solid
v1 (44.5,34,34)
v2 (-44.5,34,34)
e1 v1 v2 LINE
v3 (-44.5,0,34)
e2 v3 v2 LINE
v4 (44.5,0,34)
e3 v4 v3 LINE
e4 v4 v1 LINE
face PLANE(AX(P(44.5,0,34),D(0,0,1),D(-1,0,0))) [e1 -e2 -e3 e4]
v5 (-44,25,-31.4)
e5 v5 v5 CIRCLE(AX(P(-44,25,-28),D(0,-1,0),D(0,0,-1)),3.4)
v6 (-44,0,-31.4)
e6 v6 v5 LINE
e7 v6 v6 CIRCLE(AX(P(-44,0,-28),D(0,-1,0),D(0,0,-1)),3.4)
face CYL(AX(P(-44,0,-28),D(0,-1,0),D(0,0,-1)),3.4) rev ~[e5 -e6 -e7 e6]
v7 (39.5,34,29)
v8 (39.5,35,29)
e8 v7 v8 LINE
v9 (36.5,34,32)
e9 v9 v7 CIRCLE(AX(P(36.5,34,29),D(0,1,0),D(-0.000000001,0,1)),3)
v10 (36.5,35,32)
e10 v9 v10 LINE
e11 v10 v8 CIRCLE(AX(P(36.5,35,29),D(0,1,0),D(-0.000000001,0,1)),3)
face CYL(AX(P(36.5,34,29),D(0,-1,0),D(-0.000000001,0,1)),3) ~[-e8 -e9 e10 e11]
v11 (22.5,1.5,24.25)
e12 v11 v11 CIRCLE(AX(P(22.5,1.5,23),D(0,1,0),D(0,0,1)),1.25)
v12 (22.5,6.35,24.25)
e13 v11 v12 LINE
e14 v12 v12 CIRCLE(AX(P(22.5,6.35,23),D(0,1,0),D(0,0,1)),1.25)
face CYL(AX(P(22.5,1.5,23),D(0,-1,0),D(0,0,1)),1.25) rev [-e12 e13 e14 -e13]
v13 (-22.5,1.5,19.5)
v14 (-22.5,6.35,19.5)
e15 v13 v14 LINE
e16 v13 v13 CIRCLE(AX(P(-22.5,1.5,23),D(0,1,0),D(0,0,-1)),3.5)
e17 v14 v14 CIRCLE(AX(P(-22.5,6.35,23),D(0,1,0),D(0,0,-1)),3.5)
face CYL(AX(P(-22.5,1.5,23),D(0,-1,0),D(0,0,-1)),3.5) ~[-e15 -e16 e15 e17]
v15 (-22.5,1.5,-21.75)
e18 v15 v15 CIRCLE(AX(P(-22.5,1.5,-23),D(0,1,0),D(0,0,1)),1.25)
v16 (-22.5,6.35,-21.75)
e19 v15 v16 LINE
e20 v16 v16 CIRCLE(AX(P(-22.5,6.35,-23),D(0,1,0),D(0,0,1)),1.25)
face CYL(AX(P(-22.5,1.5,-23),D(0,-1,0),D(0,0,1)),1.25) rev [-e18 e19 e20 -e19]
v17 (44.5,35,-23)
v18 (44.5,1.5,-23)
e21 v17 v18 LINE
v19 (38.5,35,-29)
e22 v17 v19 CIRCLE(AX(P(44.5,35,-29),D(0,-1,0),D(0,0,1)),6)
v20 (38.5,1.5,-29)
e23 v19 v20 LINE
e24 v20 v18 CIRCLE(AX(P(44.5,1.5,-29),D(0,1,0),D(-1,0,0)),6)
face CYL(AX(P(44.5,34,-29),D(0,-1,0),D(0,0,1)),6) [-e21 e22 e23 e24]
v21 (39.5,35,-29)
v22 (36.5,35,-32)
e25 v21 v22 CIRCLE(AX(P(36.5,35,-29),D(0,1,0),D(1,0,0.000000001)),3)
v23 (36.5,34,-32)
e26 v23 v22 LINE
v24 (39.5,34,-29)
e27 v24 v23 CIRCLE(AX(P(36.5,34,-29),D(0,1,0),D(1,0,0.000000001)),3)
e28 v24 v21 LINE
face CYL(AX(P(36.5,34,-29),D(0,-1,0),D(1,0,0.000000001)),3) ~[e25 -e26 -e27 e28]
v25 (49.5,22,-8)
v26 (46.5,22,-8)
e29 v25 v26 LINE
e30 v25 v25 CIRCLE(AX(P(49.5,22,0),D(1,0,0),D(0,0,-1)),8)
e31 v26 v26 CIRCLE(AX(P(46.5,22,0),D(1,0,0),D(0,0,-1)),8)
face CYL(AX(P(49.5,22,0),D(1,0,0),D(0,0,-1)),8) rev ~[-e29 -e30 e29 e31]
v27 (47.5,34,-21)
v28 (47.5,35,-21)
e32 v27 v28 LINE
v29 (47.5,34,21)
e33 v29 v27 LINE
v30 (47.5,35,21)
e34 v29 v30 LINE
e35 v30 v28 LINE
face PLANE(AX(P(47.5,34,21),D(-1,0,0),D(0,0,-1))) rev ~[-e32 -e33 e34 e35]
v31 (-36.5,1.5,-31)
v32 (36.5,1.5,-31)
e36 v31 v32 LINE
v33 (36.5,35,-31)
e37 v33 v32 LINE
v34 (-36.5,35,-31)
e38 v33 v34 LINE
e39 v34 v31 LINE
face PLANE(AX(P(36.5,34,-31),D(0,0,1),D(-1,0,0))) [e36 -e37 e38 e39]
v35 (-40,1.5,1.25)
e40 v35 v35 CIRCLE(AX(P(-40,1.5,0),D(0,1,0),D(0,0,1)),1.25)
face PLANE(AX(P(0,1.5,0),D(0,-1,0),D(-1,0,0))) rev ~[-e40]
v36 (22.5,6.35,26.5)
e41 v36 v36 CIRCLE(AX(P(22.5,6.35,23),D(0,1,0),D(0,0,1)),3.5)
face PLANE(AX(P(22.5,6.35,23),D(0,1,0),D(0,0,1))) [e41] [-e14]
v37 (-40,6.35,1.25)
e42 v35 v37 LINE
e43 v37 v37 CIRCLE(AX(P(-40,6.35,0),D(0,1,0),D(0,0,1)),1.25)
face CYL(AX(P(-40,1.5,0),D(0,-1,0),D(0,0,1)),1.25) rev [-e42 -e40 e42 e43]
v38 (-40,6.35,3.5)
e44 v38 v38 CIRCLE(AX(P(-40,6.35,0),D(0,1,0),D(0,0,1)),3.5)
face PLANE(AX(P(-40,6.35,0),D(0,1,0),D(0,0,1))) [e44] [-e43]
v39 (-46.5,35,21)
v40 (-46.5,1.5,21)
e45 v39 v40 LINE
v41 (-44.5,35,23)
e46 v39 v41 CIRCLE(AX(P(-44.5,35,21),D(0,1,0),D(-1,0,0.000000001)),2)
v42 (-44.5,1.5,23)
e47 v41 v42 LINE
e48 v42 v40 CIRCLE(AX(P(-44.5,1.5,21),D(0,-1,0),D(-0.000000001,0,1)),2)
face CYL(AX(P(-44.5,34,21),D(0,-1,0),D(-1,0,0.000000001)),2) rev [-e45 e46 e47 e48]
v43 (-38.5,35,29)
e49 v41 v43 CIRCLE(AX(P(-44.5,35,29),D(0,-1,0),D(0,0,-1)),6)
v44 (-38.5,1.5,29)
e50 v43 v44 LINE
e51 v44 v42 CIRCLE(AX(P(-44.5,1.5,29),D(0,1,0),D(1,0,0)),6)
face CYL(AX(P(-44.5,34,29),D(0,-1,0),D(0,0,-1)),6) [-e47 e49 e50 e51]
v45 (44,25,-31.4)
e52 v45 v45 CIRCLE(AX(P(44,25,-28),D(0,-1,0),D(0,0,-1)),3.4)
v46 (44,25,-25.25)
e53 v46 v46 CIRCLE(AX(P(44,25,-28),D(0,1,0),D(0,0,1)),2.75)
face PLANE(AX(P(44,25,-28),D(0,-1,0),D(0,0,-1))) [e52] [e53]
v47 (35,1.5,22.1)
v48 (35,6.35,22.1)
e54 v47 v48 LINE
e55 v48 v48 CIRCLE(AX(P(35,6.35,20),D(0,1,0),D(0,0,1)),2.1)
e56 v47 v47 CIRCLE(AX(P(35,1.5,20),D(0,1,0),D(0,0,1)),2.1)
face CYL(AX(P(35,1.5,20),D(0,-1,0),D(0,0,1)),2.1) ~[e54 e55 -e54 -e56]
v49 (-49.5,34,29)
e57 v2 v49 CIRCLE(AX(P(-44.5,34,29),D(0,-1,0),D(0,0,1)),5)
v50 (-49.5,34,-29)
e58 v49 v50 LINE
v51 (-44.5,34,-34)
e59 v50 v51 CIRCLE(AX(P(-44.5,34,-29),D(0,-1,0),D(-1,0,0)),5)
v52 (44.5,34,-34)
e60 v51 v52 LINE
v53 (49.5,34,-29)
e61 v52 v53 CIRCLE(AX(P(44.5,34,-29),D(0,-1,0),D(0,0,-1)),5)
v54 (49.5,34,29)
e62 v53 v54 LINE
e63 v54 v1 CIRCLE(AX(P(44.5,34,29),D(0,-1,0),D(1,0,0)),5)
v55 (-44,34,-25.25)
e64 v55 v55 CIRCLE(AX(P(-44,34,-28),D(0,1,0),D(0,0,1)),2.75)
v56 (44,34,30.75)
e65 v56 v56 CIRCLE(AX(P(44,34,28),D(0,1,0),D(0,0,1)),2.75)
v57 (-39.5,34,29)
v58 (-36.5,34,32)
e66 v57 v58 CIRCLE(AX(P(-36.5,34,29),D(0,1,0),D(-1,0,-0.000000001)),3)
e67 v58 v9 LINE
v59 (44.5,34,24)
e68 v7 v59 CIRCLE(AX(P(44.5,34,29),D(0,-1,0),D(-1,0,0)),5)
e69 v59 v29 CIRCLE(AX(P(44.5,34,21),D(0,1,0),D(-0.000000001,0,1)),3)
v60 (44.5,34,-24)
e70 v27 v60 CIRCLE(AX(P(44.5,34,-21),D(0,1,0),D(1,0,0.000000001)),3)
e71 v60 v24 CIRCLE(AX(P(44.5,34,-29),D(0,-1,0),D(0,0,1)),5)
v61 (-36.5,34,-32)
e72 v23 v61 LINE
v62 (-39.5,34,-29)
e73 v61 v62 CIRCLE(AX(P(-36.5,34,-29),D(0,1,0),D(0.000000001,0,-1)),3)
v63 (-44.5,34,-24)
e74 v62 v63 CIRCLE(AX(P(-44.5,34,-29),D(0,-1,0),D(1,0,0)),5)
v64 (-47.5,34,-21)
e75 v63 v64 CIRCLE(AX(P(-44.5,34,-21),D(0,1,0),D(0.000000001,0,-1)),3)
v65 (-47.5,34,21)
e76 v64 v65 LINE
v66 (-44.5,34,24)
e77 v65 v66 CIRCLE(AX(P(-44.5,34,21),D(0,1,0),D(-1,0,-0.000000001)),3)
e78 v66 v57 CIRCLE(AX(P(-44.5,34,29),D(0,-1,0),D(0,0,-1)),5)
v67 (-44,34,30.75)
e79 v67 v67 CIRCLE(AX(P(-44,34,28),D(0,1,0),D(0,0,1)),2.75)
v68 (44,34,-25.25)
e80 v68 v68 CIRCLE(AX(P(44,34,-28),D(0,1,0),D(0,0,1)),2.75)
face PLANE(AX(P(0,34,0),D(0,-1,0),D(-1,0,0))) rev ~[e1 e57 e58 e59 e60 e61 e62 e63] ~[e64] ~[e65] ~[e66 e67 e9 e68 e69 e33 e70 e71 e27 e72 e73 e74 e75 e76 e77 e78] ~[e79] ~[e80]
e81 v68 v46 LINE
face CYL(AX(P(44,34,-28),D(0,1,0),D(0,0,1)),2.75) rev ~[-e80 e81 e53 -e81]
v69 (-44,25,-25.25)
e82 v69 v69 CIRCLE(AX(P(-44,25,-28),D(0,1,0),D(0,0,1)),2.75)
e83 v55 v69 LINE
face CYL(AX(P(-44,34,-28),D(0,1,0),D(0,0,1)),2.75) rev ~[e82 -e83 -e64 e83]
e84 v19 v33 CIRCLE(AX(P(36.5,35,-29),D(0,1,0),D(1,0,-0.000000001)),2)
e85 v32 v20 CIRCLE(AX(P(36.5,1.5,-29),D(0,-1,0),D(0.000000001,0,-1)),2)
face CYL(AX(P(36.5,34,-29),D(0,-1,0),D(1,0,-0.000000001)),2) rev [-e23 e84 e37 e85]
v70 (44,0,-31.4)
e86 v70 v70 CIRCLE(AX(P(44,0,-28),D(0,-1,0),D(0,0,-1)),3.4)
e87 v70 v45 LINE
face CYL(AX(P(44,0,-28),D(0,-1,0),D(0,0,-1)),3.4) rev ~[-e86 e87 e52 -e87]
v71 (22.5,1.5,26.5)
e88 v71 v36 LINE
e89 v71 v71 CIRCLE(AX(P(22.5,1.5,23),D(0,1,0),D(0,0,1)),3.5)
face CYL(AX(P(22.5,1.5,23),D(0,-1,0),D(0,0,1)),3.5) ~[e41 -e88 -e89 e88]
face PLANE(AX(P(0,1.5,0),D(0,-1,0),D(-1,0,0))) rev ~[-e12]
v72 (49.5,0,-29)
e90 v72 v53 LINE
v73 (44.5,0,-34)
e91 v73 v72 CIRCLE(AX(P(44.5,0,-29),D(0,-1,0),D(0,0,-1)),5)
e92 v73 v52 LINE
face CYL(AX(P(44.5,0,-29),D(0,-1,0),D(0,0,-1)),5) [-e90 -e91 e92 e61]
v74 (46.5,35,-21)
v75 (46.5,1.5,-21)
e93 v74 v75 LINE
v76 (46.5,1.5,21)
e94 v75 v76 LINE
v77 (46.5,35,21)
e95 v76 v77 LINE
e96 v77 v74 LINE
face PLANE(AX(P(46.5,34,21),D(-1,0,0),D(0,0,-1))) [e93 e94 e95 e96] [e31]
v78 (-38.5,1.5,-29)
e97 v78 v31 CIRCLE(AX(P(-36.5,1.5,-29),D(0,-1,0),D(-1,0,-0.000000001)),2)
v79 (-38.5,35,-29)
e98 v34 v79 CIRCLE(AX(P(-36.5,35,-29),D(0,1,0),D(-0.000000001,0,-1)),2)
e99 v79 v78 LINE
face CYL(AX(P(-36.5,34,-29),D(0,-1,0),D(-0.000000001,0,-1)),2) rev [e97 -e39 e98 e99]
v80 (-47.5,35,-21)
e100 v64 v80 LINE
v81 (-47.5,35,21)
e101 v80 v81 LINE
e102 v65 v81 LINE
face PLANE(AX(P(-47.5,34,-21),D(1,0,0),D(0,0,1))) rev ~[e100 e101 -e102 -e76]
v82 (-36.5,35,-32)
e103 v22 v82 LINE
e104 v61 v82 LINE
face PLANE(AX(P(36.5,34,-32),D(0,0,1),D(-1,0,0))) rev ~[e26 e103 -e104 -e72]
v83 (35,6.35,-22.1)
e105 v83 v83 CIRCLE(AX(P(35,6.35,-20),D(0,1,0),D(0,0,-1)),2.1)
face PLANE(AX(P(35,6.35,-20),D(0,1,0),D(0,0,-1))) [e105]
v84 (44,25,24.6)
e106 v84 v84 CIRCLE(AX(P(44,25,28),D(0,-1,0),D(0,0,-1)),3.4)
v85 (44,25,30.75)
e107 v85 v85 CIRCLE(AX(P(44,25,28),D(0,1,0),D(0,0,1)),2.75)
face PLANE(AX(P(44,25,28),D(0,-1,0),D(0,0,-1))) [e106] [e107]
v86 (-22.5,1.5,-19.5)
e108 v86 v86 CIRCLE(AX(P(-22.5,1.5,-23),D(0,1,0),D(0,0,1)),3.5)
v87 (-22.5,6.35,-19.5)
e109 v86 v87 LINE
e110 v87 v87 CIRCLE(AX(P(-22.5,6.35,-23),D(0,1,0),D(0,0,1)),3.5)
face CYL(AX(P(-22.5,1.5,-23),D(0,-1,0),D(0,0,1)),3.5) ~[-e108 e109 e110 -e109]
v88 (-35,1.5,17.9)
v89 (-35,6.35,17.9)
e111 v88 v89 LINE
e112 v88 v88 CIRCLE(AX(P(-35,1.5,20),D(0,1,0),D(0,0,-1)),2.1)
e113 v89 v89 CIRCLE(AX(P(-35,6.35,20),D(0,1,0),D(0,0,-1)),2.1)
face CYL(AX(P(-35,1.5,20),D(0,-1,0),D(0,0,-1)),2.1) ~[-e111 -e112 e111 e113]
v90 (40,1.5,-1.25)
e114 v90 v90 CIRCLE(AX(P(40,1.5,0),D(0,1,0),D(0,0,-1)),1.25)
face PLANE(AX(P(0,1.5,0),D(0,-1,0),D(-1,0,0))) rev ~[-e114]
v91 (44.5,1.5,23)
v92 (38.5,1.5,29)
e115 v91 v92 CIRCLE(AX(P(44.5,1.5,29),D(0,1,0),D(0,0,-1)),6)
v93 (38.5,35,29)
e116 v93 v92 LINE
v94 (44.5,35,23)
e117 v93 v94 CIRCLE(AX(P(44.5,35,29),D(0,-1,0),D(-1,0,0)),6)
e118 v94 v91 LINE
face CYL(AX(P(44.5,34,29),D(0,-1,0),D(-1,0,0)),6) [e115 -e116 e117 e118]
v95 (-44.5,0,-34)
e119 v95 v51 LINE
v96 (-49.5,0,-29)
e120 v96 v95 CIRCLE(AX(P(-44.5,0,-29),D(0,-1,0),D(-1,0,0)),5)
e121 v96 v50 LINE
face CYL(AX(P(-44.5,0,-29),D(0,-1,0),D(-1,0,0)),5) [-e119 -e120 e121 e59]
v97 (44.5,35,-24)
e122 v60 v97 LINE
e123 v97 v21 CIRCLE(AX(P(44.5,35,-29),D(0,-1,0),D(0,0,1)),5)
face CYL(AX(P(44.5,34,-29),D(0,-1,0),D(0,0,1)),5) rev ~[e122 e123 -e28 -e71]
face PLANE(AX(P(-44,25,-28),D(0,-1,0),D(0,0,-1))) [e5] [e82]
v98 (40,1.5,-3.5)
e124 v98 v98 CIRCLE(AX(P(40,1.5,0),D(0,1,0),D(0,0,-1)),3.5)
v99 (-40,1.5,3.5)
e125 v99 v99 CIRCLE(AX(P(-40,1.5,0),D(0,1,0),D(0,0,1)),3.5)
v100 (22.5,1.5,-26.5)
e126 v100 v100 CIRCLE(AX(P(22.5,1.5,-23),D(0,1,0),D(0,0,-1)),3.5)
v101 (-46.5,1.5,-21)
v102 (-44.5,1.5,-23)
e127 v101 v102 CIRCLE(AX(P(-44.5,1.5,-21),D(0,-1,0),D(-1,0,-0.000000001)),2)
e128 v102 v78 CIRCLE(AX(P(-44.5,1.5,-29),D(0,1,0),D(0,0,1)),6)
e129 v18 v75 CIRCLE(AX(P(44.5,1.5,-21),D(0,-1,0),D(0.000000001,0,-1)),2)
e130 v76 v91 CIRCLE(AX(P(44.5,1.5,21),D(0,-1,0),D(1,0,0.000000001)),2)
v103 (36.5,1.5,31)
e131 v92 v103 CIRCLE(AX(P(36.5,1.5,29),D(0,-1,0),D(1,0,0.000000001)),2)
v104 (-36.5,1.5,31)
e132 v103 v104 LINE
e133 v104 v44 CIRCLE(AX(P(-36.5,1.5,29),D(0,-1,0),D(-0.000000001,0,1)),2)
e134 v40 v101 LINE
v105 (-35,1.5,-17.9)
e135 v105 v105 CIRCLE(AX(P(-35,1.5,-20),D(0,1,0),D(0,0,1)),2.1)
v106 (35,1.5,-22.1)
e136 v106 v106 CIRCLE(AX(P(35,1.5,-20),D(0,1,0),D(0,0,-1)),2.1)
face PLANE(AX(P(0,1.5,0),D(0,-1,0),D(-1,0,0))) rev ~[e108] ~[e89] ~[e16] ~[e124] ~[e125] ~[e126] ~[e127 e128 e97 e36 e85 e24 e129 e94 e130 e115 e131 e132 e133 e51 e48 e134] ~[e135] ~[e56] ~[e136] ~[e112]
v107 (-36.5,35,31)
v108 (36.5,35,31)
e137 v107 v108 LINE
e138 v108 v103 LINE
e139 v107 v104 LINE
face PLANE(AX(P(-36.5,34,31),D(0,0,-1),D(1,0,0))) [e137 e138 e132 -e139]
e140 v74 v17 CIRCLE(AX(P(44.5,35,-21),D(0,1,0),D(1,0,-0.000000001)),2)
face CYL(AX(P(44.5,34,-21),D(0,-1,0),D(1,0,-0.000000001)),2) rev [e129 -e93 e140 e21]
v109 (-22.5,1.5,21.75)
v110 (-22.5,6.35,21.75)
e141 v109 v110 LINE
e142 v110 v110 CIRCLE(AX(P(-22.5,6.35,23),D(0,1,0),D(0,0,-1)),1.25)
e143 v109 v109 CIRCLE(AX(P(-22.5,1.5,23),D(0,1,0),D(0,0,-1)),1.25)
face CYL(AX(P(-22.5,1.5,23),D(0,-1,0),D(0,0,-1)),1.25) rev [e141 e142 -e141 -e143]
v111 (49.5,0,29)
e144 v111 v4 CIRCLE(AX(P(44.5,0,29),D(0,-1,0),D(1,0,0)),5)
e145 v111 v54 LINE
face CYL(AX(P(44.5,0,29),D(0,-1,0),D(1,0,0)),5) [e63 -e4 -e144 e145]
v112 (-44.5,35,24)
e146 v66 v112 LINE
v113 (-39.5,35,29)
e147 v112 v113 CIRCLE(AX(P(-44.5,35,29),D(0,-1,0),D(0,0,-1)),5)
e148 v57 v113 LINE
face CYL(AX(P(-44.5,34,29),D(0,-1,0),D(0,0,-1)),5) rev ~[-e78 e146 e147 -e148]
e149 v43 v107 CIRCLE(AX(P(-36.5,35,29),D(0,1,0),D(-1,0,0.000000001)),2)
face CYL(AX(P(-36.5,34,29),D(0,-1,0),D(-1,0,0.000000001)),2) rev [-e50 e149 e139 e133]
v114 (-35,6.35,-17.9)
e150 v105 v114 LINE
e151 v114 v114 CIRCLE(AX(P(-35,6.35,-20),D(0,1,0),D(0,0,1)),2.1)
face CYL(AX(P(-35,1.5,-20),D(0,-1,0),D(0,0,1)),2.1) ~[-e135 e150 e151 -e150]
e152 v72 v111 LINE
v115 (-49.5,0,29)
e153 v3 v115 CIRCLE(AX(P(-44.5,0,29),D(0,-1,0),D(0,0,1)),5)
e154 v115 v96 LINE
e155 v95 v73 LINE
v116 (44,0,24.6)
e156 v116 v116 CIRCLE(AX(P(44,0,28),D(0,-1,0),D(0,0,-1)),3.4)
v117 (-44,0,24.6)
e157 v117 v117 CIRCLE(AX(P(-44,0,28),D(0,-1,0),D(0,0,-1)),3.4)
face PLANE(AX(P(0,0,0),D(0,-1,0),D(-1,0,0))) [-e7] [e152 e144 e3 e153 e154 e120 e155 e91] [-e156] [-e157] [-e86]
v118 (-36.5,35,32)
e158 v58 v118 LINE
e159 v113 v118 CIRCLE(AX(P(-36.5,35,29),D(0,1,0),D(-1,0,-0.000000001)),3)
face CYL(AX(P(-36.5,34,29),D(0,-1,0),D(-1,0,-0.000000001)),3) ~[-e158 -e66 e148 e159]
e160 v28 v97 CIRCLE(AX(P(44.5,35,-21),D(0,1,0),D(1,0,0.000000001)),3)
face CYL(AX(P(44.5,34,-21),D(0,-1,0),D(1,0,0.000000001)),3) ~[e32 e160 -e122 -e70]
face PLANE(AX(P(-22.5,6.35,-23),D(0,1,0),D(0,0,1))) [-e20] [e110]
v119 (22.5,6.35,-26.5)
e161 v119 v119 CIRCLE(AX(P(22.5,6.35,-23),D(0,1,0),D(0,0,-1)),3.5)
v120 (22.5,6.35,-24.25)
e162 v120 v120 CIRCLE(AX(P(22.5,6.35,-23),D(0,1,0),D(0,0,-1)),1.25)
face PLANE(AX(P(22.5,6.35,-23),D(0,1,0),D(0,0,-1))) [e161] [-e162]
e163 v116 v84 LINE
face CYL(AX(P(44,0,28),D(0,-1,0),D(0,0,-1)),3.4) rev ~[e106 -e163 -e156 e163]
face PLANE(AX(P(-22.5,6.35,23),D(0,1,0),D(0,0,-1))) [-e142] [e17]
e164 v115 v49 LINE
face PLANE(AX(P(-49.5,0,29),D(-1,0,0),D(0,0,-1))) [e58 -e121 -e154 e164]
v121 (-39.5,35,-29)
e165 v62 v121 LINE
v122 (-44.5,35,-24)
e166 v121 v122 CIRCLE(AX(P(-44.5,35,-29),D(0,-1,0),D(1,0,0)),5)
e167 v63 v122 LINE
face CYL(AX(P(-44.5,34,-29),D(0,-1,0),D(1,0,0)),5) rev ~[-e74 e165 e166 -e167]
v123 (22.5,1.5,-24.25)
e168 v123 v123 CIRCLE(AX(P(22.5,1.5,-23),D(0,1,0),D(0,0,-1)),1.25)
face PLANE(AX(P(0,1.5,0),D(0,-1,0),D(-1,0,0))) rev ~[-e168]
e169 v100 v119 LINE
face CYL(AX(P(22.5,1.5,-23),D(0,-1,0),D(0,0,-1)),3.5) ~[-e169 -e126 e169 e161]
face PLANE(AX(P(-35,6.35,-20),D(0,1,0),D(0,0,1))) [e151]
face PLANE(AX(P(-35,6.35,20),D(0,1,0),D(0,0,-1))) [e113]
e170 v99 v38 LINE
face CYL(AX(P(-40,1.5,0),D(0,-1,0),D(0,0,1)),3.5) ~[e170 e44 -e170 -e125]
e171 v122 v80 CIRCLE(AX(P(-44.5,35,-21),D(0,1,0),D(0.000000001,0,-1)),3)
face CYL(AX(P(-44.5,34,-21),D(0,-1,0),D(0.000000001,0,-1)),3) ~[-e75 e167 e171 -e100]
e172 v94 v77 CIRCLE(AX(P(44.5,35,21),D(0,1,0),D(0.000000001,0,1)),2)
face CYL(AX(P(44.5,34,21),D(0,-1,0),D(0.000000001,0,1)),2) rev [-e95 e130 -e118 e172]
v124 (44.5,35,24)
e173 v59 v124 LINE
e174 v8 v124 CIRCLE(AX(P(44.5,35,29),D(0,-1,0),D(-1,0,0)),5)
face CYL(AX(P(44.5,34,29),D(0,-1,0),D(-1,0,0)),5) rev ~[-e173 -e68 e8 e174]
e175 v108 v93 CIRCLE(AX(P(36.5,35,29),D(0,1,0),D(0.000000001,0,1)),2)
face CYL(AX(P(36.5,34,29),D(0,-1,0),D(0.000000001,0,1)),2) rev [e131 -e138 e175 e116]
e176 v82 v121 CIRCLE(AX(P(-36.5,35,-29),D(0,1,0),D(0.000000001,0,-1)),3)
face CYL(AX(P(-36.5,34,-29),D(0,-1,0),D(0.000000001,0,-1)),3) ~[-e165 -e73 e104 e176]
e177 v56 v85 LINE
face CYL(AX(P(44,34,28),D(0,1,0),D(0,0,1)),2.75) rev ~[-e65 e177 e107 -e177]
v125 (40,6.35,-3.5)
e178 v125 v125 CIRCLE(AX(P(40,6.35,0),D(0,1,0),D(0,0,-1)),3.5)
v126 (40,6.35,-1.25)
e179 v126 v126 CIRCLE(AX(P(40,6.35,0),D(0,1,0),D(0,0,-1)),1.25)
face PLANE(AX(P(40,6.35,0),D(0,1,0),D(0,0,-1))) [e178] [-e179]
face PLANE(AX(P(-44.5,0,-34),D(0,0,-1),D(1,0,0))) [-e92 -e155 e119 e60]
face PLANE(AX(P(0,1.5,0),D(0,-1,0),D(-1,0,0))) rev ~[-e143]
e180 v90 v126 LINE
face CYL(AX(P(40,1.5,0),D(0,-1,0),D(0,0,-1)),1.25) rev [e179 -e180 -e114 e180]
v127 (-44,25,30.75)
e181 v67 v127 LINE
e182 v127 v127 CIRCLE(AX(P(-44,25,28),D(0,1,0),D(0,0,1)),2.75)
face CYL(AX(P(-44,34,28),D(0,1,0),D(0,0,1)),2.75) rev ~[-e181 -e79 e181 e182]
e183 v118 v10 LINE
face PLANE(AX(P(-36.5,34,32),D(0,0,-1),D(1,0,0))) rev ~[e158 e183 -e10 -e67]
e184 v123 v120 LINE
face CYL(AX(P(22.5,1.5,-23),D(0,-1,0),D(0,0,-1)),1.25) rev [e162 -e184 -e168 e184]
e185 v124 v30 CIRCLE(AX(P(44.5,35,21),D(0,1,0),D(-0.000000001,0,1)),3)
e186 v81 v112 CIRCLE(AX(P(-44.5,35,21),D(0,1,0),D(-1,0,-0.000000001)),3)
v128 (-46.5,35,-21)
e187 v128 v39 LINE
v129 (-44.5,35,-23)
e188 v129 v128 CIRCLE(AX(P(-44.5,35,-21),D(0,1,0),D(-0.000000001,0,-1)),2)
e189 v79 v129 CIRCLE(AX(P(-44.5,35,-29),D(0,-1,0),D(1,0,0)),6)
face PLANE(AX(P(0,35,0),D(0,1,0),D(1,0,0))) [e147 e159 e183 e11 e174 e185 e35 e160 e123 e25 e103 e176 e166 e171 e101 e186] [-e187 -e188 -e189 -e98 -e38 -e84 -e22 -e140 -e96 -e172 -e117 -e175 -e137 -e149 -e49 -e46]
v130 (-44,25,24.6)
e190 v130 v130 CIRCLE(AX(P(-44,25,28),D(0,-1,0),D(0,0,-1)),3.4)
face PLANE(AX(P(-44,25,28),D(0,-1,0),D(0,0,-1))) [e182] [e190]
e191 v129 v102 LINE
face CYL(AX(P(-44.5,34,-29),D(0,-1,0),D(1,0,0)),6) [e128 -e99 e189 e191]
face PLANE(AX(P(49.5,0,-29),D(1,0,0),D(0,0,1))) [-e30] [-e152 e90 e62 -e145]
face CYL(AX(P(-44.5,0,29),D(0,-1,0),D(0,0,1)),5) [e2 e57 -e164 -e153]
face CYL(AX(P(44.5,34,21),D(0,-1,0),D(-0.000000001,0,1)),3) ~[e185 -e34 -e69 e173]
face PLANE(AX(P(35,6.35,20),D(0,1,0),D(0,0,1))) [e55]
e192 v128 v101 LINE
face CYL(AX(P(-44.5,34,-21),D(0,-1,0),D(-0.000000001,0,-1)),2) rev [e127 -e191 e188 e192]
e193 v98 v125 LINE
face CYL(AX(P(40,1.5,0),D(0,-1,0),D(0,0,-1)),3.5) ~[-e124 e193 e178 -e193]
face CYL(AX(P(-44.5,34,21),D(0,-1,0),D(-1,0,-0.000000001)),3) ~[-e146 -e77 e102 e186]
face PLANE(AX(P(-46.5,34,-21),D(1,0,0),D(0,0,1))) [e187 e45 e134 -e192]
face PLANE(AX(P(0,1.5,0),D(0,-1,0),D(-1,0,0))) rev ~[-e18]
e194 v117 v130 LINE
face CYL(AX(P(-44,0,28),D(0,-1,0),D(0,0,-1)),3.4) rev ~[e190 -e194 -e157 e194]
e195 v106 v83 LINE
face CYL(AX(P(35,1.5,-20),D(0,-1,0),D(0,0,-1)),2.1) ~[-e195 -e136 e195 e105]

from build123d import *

# Parameters (mm, degrees)
BOSS_EXTRU_1_DEPTH      = 34
ENL_V_MAT_EXTRU_1_DEPTH = 32.5
ENL_V_MAT_EXTRU_2_REACH = 36
ESQUISSE3_R             = 2.75
BOSS_EXTRU_2_DEPTH      = 1
ESQUISSE5_R             = 3.4
ENL_V_MAT_EXTRU_3_DEPTH = 25
ESQUISSE6_R             = 3.5
ESQUISSE6_R_2           = 1.25
ESQUISSE6_R_3           = 2.1
BOSS_EXTRU_3_DEPTH      = 4.85
ENL_V_MAT_EXTRU_4_REACH = 101
ESQUISSE7_R             = 8


with BuildPart() as part:
    # Esquisse1 → Boss.-Extru.1 (new body)
    with BuildSketch(Plane(origin=(0, 0, 0), x_dir=(1, 0, 0), z_dir=(0, 1, 0))):
        with BuildLine():
            Line((-44.5, 34), (44.5, 34))
            ThreePointArc((44.5, 34), (48.035533906, 32.535533906), (49.5, 29))
            Line((49.5, 29), (49.5, -29))
            ThreePointArc((49.5, -29), (48.035533906, -32.535533906), (44.5, -34))
            Line((44.5, -34), (-44.5, -34))
            ThreePointArc((-44.5, -34), (-48.035533906, -32.535533906), (-49.5, -29))
            Line((-49.5, -29), (-49.5, 29))
            ThreePointArc((-49.5, 29), (-48.035533906, 32.535533906), (-44.5, 34))
        make_face()
    extrude(amount=BOSS_EXTRU_1_DEPTH)

    # Esquisse2 → Enlèv. mat.-Extru.1 (cut)
    with BuildSketch(Plane(origin=(0, 34, 0), x_dir=(1, 0, 0), z_dir=(0, 1, 0))):
        with BuildLine():
            Line((-36.5, 31), (36.5, 31))
            ThreePointArc((36.5, 31), (37.914213562, 30.414213562), (38.5, 29))
            ThreePointArc((38.5, 29), (40.257359313, 24.757359313), (44.5, 23))
            ThreePointArc((44.5, 23), (45.914213562, 22.414213562), (46.5, 21))
            Line((46.5, 21), (46.5, -21))
            ThreePointArc((46.5, -21), (45.914213562, -22.414213562), (44.5, -23))
            ThreePointArc((44.5, -23), (40.257359313, -24.757359313), (38.5, -29))
            ThreePointArc((38.5, -29), (37.914213562, -30.414213562), (36.5, -31))
            Line((36.5, -31), (-36.5, -31))
            ThreePointArc((-36.5, -31), (-37.914213562, -30.414213562), (-38.5, -29))
            ThreePointArc((-38.5, -29), (-40.257359313, -24.757359313), (-44.5, -23))
            ThreePointArc((-44.5, -23), (-45.914213562, -22.414213562), (-46.5, -21))
            Line((-46.5, -21), (-46.5, 21))
            ThreePointArc((-46.5, 21), (-45.914213562, 22.414213562), (-44.5, 23))
            ThreePointArc((-44.5, 23), (-40.257359313, 24.757359313), (-38.5, 29))
            ThreePointArc((-38.5, 29), (-37.914213562, 30.414213562), (-36.5, 31))
        make_face()
    extrude(amount=-ENL_V_MAT_EXTRU_1_DEPTH, mode=Mode.SUBTRACT)

    # Esquisse3 → Enlèv. mat.-Extru.2 (cut, up to next)
    with BuildSketch(Plane(origin=(0, 34, 0), x_dir=(1, 0, 0), z_dir=(0, 1, 0)), mode=Mode.PRIVATE) as enl_v_mat_extru_2_sk1:
        with Locations(Location((-44, 28, 0), (0, 0, 270))):  # turned: the seam where the file's is
            Circle(ESQUISSE3_R)
    enl_v_mat_extru_2_tool1 = extrude(enl_v_mat_extru_2_sk1.sketch, amount=-ENL_V_MAT_EXTRU_2_REACH, mode=Mode.PRIVATE) & part.part
    add(enl_v_mat_extru_2_tool1.solids().sort_by_distance((-44, 34, -28))[0], mode=Mode.SUBTRACT)
    # Esquisse3 → Enlèv. mat.-Extru.2 (cut, up to next)
    with BuildSketch(Plane(origin=(0, 34, 0), x_dir=(1, 0, 0), z_dir=(0, 1, 0)), mode=Mode.PRIVATE) as enl_v_mat_extru_2_sk2:
        with Locations(Location((-44, -28, 0), (0, 0, 270))):  # turned: the seam where the file's is
            Circle(ESQUISSE3_R)
    enl_v_mat_extru_2_tool2 = extrude(enl_v_mat_extru_2_sk2.sketch, amount=-ENL_V_MAT_EXTRU_2_REACH, mode=Mode.PRIVATE) & part.part
    add(enl_v_mat_extru_2_tool2.solids().sort_by_distance((-44, 34, 28))[0], mode=Mode.SUBTRACT)
    # Esquisse3 → Enlèv. mat.-Extru.2 (cut, up to next)
    with BuildSketch(Plane(origin=(0, 34, 0), x_dir=(1, 0, 0), z_dir=(0, 1, 0)), mode=Mode.PRIVATE) as enl_v_mat_extru_2_sk3:
        with Locations(Location((44, -28, 0), (0, 0, 270))):  # turned: the seam where the file's is
            Circle(ESQUISSE3_R)
    enl_v_mat_extru_2_tool3 = extrude(enl_v_mat_extru_2_sk3.sketch, amount=-ENL_V_MAT_EXTRU_2_REACH, mode=Mode.PRIVATE) & part.part
    add(enl_v_mat_extru_2_tool3.solids().sort_by_distance((44, 34, 28))[0], mode=Mode.SUBTRACT)
    # Esquisse3 → Enlèv. mat.-Extru.2 (cut, up to next)
    with BuildSketch(Plane(origin=(0, 34, 0), x_dir=(1, 0, 0), z_dir=(0, 1, 0)), mode=Mode.PRIVATE) as enl_v_mat_extru_2_sk4:
        with Locations(Location((44, 28, 0), (0, 0, 270))):  # turned: the seam where the file's is
            Circle(ESQUISSE3_R)
    enl_v_mat_extru_2_tool4 = extrude(enl_v_mat_extru_2_sk4.sketch, amount=-ENL_V_MAT_EXTRU_2_REACH, mode=Mode.PRIVATE) & part.part
    add(enl_v_mat_extru_2_tool4.solids().sort_by_distance((44, 34, -28))[0], mode=Mode.SUBTRACT)

    # Esquisse4 → Boss.-Extru.2 (add)
    with BuildSketch(Plane(origin=(0, 34, 0), x_dir=(1, 0, 0), z_dir=(0, 1, 0))):
        with BuildLine():
            Line((47.5, -21), (47.5, 21))
            ThreePointArc((47.5, 21), (46.621320344, 23.121320344), (44.5, 24))
            ThreePointArc((44.5, 24), (40.964466094, 25.464466094), (39.5, 29))
            ThreePointArc((39.5, 29), (38.621320344, 31.121320344), (36.5, 32))
            Line((36.5, 32), (-36.5, 32))
            ThreePointArc((-36.5, 32), (-38.621320344, 31.121320344), (-39.5, 29))
            ThreePointArc((-39.5, 29), (-40.964466094, 25.464466094), (-44.5, 24))
            ThreePointArc((-44.5, 24), (-46.621320344, 23.121320344), (-47.5, 21))
            Line((-47.5, 21), (-47.5, -21))
            ThreePointArc((-47.5, -21), (-46.621320344, -23.121320344), (-44.5, -24))
            ThreePointArc((-44.5, -24), (-40.964466094, -25.464466094), (-39.5, -29))
            ThreePointArc((-39.5, -29), (-38.621320344, -31.121320344), (-36.5, -32))
            Line((-36.5, -32), (36.5, -32))
            ThreePointArc((36.5, -32), (38.621320344, -31.121320344), (39.5, -29))
            ThreePointArc((39.5, -29), (40.964466094, -25.464466094), (44.5, -24))
            ThreePointArc((44.5, -24), (46.621320344, -23.121320344), (47.5, -21))
        make_face()
        with BuildLine():
            Line((46.5, -21), (46.5, 21))
            ThreePointArc((46.5, 21), (45.914213562, 22.414213562), (44.5, 23))
            ThreePointArc((44.5, 23), (40.257359313, 24.757359313), (38.5, 29))
            ThreePointArc((38.5, 29), (37.914213562, 30.414213562), (36.5, 31))
            Line((36.5, 31), (-36.5, 31))
            ThreePointArc((-36.5, 31), (-37.914213562, 30.414213562), (-38.5, 29))
            ThreePointArc((-38.5, 29), (-40.257359313, 24.757359313), (-44.5, 23))
            ThreePointArc((-44.5, 23), (-45.914213562, 22.414213562), (-46.5, 21))
            Line((-46.5, 21), (-46.5, -21))
            ThreePointArc((-46.5, -21), (-45.914213562, -22.414213562), (-44.5, -23))
            ThreePointArc((-44.5, -23), (-40.257359313, -24.757359313), (-38.5, -29))
            ThreePointArc((-38.5, -29), (-37.914213562, -30.414213562), (-36.5, -31))
            Line((-36.5, -31), (36.5, -31))
            ThreePointArc((36.5, -31), (37.914213562, -30.414213562), (38.5, -29))
            ThreePointArc((38.5, -29), (40.257359313, -24.757359313), (44.5, -23))
            ThreePointArc((44.5, -23), (45.914213562, -22.414213562), (46.5, -21))
        make_face(mode=Mode.SUBTRACT)
    extrude(amount=BOSS_EXTRU_2_DEPTH)

    # Esquisse5 → Enlèv. mat.-Extru.3 (cut)
    with BuildSketch(Plane.XZ):
        with Locations(Location((-44, 28, 0), (0, 0, 270))):  # turned: the seam where the file's is
            Circle(ESQUISSE5_R)
        with Locations(Location((44, 28, 0), (0, 0, 270))):  # turned: the seam where the file's is
            Circle(ESQUISSE5_R)
        with Locations(Location((44, -28, 0), (0, 0, 270))):  # turned: the seam where the file's is
            Circle(ESQUISSE5_R)
        with Locations(Location((-44, -28, 0), (0, 0, 270))):  # turned: the seam where the file's is
            Circle(ESQUISSE5_R)
    extrude(amount=-ENL_V_MAT_EXTRU_3_DEPTH, mode=Mode.SUBTRACT)

    # Esquisse6 → Boss.-Extru.3 (add)
    with BuildSketch(Plane(origin=(0, 1.5, 0), x_dir=(1, 0, 0), z_dir=(0, 1, 0))):
        with Locations(Location((-22.5, 23, 0), (0, 0, 270))):  # turned: the seam where the file's is
            Circle(ESQUISSE6_R)
        with Locations(Location((-22.5, 23, 0), (0, 0, 270))):  # turned: the seam where the file's is
            Circle(ESQUISSE6_R_2, mode=Mode.SUBTRACT)
        with Locations(Location((-40, 0, 0), (0, 0, 270))):  # turned: the seam where the file's is
            Circle(ESQUISSE6_R)
        with Locations(Location((-40, 0, 0), (0, 0, 270))):  # turned: the seam where the file's is
            Circle(ESQUISSE6_R_2, mode=Mode.SUBTRACT)
        with Locations(Location((-35, 20, 0), (0, 0, 270))):  # turned: the seam where the file's is
            Circle(ESQUISSE6_R_3)
        with Locations(Location((35, 20, 0), (0, 0, 90))):  # turned: the seam where the file's is
            Circle(ESQUISSE6_R_3)
        with Locations(Location((40, 0, 0), (0, 0, 90))):  # turned: the seam where the file's is
            Circle(ESQUISSE6_R)
        with Locations(Location((40, 0, 0), (0, 0, 90))):  # turned: the seam where the file's is
            Circle(ESQUISSE6_R_2, mode=Mode.SUBTRACT)
        with Locations(Location((22.5, 23, 0), (0, 0, 90))):  # turned: the seam where the file's is
            Circle(ESQUISSE6_R)
        with Locations(Location((22.5, 23, 0), (0, 0, 90))):  # turned: the seam where the file's is
            Circle(ESQUISSE6_R_2, mode=Mode.SUBTRACT)
        with Locations(Location((22.5, -23, 0), (0, 0, 270))):  # turned: the seam where the file's is
            Circle(ESQUISSE6_R)
        with Locations(Location((22.5, -23, 0), (0, 0, 270))):  # turned: the seam where the file's is
            Circle(ESQUISSE6_R_2, mode=Mode.SUBTRACT)
        with Locations(Location((35, -20, 0), (0, 0, 270))):  # turned: the seam where the file's is
            Circle(ESQUISSE6_R_3)
        with Locations(Location((-35, -20, 0), (0, 0, 90))):  # turned: the seam where the file's is
            Circle(ESQUISSE6_R_3)
        with Locations(Location((-22.5, -23, 0), (0, 0, 90))):  # turned: the seam where the file's is
            Circle(ESQUISSE6_R)
        with Locations(Location((-22.5, -23, 0), (0, 0, 90))):  # turned: the seam where the file's is
            Circle(ESQUISSE6_R_2, mode=Mode.SUBTRACT)
    extrude(amount=BOSS_EXTRU_3_DEPTH)

    # Esquisse7 → Enlèv. mat.-Extru.4 (cut, up to next)
    with BuildSketch(Plane(origin=(49.5, 0, 0), x_dir=(0, 0, -1), z_dir=(1, 0, 0)), mode=Mode.PRIVATE) as enl_v_mat_extru_4_sk1:
        with Locations((0, 22)):
            Circle(ESQUISSE7_R)
    enl_v_mat_extru_4_tool1 = extrude(enl_v_mat_extru_4_sk1.sketch, amount=-ENL_V_MAT_EXTRU_4_REACH, mode=Mode.PRIVATE) & part.part
    add(enl_v_mat_extru_4_tool1.solids().sort_by_distance((49.5, 22, 0))[0], mode=Mode.SUBTRACT)


solid = part.part
